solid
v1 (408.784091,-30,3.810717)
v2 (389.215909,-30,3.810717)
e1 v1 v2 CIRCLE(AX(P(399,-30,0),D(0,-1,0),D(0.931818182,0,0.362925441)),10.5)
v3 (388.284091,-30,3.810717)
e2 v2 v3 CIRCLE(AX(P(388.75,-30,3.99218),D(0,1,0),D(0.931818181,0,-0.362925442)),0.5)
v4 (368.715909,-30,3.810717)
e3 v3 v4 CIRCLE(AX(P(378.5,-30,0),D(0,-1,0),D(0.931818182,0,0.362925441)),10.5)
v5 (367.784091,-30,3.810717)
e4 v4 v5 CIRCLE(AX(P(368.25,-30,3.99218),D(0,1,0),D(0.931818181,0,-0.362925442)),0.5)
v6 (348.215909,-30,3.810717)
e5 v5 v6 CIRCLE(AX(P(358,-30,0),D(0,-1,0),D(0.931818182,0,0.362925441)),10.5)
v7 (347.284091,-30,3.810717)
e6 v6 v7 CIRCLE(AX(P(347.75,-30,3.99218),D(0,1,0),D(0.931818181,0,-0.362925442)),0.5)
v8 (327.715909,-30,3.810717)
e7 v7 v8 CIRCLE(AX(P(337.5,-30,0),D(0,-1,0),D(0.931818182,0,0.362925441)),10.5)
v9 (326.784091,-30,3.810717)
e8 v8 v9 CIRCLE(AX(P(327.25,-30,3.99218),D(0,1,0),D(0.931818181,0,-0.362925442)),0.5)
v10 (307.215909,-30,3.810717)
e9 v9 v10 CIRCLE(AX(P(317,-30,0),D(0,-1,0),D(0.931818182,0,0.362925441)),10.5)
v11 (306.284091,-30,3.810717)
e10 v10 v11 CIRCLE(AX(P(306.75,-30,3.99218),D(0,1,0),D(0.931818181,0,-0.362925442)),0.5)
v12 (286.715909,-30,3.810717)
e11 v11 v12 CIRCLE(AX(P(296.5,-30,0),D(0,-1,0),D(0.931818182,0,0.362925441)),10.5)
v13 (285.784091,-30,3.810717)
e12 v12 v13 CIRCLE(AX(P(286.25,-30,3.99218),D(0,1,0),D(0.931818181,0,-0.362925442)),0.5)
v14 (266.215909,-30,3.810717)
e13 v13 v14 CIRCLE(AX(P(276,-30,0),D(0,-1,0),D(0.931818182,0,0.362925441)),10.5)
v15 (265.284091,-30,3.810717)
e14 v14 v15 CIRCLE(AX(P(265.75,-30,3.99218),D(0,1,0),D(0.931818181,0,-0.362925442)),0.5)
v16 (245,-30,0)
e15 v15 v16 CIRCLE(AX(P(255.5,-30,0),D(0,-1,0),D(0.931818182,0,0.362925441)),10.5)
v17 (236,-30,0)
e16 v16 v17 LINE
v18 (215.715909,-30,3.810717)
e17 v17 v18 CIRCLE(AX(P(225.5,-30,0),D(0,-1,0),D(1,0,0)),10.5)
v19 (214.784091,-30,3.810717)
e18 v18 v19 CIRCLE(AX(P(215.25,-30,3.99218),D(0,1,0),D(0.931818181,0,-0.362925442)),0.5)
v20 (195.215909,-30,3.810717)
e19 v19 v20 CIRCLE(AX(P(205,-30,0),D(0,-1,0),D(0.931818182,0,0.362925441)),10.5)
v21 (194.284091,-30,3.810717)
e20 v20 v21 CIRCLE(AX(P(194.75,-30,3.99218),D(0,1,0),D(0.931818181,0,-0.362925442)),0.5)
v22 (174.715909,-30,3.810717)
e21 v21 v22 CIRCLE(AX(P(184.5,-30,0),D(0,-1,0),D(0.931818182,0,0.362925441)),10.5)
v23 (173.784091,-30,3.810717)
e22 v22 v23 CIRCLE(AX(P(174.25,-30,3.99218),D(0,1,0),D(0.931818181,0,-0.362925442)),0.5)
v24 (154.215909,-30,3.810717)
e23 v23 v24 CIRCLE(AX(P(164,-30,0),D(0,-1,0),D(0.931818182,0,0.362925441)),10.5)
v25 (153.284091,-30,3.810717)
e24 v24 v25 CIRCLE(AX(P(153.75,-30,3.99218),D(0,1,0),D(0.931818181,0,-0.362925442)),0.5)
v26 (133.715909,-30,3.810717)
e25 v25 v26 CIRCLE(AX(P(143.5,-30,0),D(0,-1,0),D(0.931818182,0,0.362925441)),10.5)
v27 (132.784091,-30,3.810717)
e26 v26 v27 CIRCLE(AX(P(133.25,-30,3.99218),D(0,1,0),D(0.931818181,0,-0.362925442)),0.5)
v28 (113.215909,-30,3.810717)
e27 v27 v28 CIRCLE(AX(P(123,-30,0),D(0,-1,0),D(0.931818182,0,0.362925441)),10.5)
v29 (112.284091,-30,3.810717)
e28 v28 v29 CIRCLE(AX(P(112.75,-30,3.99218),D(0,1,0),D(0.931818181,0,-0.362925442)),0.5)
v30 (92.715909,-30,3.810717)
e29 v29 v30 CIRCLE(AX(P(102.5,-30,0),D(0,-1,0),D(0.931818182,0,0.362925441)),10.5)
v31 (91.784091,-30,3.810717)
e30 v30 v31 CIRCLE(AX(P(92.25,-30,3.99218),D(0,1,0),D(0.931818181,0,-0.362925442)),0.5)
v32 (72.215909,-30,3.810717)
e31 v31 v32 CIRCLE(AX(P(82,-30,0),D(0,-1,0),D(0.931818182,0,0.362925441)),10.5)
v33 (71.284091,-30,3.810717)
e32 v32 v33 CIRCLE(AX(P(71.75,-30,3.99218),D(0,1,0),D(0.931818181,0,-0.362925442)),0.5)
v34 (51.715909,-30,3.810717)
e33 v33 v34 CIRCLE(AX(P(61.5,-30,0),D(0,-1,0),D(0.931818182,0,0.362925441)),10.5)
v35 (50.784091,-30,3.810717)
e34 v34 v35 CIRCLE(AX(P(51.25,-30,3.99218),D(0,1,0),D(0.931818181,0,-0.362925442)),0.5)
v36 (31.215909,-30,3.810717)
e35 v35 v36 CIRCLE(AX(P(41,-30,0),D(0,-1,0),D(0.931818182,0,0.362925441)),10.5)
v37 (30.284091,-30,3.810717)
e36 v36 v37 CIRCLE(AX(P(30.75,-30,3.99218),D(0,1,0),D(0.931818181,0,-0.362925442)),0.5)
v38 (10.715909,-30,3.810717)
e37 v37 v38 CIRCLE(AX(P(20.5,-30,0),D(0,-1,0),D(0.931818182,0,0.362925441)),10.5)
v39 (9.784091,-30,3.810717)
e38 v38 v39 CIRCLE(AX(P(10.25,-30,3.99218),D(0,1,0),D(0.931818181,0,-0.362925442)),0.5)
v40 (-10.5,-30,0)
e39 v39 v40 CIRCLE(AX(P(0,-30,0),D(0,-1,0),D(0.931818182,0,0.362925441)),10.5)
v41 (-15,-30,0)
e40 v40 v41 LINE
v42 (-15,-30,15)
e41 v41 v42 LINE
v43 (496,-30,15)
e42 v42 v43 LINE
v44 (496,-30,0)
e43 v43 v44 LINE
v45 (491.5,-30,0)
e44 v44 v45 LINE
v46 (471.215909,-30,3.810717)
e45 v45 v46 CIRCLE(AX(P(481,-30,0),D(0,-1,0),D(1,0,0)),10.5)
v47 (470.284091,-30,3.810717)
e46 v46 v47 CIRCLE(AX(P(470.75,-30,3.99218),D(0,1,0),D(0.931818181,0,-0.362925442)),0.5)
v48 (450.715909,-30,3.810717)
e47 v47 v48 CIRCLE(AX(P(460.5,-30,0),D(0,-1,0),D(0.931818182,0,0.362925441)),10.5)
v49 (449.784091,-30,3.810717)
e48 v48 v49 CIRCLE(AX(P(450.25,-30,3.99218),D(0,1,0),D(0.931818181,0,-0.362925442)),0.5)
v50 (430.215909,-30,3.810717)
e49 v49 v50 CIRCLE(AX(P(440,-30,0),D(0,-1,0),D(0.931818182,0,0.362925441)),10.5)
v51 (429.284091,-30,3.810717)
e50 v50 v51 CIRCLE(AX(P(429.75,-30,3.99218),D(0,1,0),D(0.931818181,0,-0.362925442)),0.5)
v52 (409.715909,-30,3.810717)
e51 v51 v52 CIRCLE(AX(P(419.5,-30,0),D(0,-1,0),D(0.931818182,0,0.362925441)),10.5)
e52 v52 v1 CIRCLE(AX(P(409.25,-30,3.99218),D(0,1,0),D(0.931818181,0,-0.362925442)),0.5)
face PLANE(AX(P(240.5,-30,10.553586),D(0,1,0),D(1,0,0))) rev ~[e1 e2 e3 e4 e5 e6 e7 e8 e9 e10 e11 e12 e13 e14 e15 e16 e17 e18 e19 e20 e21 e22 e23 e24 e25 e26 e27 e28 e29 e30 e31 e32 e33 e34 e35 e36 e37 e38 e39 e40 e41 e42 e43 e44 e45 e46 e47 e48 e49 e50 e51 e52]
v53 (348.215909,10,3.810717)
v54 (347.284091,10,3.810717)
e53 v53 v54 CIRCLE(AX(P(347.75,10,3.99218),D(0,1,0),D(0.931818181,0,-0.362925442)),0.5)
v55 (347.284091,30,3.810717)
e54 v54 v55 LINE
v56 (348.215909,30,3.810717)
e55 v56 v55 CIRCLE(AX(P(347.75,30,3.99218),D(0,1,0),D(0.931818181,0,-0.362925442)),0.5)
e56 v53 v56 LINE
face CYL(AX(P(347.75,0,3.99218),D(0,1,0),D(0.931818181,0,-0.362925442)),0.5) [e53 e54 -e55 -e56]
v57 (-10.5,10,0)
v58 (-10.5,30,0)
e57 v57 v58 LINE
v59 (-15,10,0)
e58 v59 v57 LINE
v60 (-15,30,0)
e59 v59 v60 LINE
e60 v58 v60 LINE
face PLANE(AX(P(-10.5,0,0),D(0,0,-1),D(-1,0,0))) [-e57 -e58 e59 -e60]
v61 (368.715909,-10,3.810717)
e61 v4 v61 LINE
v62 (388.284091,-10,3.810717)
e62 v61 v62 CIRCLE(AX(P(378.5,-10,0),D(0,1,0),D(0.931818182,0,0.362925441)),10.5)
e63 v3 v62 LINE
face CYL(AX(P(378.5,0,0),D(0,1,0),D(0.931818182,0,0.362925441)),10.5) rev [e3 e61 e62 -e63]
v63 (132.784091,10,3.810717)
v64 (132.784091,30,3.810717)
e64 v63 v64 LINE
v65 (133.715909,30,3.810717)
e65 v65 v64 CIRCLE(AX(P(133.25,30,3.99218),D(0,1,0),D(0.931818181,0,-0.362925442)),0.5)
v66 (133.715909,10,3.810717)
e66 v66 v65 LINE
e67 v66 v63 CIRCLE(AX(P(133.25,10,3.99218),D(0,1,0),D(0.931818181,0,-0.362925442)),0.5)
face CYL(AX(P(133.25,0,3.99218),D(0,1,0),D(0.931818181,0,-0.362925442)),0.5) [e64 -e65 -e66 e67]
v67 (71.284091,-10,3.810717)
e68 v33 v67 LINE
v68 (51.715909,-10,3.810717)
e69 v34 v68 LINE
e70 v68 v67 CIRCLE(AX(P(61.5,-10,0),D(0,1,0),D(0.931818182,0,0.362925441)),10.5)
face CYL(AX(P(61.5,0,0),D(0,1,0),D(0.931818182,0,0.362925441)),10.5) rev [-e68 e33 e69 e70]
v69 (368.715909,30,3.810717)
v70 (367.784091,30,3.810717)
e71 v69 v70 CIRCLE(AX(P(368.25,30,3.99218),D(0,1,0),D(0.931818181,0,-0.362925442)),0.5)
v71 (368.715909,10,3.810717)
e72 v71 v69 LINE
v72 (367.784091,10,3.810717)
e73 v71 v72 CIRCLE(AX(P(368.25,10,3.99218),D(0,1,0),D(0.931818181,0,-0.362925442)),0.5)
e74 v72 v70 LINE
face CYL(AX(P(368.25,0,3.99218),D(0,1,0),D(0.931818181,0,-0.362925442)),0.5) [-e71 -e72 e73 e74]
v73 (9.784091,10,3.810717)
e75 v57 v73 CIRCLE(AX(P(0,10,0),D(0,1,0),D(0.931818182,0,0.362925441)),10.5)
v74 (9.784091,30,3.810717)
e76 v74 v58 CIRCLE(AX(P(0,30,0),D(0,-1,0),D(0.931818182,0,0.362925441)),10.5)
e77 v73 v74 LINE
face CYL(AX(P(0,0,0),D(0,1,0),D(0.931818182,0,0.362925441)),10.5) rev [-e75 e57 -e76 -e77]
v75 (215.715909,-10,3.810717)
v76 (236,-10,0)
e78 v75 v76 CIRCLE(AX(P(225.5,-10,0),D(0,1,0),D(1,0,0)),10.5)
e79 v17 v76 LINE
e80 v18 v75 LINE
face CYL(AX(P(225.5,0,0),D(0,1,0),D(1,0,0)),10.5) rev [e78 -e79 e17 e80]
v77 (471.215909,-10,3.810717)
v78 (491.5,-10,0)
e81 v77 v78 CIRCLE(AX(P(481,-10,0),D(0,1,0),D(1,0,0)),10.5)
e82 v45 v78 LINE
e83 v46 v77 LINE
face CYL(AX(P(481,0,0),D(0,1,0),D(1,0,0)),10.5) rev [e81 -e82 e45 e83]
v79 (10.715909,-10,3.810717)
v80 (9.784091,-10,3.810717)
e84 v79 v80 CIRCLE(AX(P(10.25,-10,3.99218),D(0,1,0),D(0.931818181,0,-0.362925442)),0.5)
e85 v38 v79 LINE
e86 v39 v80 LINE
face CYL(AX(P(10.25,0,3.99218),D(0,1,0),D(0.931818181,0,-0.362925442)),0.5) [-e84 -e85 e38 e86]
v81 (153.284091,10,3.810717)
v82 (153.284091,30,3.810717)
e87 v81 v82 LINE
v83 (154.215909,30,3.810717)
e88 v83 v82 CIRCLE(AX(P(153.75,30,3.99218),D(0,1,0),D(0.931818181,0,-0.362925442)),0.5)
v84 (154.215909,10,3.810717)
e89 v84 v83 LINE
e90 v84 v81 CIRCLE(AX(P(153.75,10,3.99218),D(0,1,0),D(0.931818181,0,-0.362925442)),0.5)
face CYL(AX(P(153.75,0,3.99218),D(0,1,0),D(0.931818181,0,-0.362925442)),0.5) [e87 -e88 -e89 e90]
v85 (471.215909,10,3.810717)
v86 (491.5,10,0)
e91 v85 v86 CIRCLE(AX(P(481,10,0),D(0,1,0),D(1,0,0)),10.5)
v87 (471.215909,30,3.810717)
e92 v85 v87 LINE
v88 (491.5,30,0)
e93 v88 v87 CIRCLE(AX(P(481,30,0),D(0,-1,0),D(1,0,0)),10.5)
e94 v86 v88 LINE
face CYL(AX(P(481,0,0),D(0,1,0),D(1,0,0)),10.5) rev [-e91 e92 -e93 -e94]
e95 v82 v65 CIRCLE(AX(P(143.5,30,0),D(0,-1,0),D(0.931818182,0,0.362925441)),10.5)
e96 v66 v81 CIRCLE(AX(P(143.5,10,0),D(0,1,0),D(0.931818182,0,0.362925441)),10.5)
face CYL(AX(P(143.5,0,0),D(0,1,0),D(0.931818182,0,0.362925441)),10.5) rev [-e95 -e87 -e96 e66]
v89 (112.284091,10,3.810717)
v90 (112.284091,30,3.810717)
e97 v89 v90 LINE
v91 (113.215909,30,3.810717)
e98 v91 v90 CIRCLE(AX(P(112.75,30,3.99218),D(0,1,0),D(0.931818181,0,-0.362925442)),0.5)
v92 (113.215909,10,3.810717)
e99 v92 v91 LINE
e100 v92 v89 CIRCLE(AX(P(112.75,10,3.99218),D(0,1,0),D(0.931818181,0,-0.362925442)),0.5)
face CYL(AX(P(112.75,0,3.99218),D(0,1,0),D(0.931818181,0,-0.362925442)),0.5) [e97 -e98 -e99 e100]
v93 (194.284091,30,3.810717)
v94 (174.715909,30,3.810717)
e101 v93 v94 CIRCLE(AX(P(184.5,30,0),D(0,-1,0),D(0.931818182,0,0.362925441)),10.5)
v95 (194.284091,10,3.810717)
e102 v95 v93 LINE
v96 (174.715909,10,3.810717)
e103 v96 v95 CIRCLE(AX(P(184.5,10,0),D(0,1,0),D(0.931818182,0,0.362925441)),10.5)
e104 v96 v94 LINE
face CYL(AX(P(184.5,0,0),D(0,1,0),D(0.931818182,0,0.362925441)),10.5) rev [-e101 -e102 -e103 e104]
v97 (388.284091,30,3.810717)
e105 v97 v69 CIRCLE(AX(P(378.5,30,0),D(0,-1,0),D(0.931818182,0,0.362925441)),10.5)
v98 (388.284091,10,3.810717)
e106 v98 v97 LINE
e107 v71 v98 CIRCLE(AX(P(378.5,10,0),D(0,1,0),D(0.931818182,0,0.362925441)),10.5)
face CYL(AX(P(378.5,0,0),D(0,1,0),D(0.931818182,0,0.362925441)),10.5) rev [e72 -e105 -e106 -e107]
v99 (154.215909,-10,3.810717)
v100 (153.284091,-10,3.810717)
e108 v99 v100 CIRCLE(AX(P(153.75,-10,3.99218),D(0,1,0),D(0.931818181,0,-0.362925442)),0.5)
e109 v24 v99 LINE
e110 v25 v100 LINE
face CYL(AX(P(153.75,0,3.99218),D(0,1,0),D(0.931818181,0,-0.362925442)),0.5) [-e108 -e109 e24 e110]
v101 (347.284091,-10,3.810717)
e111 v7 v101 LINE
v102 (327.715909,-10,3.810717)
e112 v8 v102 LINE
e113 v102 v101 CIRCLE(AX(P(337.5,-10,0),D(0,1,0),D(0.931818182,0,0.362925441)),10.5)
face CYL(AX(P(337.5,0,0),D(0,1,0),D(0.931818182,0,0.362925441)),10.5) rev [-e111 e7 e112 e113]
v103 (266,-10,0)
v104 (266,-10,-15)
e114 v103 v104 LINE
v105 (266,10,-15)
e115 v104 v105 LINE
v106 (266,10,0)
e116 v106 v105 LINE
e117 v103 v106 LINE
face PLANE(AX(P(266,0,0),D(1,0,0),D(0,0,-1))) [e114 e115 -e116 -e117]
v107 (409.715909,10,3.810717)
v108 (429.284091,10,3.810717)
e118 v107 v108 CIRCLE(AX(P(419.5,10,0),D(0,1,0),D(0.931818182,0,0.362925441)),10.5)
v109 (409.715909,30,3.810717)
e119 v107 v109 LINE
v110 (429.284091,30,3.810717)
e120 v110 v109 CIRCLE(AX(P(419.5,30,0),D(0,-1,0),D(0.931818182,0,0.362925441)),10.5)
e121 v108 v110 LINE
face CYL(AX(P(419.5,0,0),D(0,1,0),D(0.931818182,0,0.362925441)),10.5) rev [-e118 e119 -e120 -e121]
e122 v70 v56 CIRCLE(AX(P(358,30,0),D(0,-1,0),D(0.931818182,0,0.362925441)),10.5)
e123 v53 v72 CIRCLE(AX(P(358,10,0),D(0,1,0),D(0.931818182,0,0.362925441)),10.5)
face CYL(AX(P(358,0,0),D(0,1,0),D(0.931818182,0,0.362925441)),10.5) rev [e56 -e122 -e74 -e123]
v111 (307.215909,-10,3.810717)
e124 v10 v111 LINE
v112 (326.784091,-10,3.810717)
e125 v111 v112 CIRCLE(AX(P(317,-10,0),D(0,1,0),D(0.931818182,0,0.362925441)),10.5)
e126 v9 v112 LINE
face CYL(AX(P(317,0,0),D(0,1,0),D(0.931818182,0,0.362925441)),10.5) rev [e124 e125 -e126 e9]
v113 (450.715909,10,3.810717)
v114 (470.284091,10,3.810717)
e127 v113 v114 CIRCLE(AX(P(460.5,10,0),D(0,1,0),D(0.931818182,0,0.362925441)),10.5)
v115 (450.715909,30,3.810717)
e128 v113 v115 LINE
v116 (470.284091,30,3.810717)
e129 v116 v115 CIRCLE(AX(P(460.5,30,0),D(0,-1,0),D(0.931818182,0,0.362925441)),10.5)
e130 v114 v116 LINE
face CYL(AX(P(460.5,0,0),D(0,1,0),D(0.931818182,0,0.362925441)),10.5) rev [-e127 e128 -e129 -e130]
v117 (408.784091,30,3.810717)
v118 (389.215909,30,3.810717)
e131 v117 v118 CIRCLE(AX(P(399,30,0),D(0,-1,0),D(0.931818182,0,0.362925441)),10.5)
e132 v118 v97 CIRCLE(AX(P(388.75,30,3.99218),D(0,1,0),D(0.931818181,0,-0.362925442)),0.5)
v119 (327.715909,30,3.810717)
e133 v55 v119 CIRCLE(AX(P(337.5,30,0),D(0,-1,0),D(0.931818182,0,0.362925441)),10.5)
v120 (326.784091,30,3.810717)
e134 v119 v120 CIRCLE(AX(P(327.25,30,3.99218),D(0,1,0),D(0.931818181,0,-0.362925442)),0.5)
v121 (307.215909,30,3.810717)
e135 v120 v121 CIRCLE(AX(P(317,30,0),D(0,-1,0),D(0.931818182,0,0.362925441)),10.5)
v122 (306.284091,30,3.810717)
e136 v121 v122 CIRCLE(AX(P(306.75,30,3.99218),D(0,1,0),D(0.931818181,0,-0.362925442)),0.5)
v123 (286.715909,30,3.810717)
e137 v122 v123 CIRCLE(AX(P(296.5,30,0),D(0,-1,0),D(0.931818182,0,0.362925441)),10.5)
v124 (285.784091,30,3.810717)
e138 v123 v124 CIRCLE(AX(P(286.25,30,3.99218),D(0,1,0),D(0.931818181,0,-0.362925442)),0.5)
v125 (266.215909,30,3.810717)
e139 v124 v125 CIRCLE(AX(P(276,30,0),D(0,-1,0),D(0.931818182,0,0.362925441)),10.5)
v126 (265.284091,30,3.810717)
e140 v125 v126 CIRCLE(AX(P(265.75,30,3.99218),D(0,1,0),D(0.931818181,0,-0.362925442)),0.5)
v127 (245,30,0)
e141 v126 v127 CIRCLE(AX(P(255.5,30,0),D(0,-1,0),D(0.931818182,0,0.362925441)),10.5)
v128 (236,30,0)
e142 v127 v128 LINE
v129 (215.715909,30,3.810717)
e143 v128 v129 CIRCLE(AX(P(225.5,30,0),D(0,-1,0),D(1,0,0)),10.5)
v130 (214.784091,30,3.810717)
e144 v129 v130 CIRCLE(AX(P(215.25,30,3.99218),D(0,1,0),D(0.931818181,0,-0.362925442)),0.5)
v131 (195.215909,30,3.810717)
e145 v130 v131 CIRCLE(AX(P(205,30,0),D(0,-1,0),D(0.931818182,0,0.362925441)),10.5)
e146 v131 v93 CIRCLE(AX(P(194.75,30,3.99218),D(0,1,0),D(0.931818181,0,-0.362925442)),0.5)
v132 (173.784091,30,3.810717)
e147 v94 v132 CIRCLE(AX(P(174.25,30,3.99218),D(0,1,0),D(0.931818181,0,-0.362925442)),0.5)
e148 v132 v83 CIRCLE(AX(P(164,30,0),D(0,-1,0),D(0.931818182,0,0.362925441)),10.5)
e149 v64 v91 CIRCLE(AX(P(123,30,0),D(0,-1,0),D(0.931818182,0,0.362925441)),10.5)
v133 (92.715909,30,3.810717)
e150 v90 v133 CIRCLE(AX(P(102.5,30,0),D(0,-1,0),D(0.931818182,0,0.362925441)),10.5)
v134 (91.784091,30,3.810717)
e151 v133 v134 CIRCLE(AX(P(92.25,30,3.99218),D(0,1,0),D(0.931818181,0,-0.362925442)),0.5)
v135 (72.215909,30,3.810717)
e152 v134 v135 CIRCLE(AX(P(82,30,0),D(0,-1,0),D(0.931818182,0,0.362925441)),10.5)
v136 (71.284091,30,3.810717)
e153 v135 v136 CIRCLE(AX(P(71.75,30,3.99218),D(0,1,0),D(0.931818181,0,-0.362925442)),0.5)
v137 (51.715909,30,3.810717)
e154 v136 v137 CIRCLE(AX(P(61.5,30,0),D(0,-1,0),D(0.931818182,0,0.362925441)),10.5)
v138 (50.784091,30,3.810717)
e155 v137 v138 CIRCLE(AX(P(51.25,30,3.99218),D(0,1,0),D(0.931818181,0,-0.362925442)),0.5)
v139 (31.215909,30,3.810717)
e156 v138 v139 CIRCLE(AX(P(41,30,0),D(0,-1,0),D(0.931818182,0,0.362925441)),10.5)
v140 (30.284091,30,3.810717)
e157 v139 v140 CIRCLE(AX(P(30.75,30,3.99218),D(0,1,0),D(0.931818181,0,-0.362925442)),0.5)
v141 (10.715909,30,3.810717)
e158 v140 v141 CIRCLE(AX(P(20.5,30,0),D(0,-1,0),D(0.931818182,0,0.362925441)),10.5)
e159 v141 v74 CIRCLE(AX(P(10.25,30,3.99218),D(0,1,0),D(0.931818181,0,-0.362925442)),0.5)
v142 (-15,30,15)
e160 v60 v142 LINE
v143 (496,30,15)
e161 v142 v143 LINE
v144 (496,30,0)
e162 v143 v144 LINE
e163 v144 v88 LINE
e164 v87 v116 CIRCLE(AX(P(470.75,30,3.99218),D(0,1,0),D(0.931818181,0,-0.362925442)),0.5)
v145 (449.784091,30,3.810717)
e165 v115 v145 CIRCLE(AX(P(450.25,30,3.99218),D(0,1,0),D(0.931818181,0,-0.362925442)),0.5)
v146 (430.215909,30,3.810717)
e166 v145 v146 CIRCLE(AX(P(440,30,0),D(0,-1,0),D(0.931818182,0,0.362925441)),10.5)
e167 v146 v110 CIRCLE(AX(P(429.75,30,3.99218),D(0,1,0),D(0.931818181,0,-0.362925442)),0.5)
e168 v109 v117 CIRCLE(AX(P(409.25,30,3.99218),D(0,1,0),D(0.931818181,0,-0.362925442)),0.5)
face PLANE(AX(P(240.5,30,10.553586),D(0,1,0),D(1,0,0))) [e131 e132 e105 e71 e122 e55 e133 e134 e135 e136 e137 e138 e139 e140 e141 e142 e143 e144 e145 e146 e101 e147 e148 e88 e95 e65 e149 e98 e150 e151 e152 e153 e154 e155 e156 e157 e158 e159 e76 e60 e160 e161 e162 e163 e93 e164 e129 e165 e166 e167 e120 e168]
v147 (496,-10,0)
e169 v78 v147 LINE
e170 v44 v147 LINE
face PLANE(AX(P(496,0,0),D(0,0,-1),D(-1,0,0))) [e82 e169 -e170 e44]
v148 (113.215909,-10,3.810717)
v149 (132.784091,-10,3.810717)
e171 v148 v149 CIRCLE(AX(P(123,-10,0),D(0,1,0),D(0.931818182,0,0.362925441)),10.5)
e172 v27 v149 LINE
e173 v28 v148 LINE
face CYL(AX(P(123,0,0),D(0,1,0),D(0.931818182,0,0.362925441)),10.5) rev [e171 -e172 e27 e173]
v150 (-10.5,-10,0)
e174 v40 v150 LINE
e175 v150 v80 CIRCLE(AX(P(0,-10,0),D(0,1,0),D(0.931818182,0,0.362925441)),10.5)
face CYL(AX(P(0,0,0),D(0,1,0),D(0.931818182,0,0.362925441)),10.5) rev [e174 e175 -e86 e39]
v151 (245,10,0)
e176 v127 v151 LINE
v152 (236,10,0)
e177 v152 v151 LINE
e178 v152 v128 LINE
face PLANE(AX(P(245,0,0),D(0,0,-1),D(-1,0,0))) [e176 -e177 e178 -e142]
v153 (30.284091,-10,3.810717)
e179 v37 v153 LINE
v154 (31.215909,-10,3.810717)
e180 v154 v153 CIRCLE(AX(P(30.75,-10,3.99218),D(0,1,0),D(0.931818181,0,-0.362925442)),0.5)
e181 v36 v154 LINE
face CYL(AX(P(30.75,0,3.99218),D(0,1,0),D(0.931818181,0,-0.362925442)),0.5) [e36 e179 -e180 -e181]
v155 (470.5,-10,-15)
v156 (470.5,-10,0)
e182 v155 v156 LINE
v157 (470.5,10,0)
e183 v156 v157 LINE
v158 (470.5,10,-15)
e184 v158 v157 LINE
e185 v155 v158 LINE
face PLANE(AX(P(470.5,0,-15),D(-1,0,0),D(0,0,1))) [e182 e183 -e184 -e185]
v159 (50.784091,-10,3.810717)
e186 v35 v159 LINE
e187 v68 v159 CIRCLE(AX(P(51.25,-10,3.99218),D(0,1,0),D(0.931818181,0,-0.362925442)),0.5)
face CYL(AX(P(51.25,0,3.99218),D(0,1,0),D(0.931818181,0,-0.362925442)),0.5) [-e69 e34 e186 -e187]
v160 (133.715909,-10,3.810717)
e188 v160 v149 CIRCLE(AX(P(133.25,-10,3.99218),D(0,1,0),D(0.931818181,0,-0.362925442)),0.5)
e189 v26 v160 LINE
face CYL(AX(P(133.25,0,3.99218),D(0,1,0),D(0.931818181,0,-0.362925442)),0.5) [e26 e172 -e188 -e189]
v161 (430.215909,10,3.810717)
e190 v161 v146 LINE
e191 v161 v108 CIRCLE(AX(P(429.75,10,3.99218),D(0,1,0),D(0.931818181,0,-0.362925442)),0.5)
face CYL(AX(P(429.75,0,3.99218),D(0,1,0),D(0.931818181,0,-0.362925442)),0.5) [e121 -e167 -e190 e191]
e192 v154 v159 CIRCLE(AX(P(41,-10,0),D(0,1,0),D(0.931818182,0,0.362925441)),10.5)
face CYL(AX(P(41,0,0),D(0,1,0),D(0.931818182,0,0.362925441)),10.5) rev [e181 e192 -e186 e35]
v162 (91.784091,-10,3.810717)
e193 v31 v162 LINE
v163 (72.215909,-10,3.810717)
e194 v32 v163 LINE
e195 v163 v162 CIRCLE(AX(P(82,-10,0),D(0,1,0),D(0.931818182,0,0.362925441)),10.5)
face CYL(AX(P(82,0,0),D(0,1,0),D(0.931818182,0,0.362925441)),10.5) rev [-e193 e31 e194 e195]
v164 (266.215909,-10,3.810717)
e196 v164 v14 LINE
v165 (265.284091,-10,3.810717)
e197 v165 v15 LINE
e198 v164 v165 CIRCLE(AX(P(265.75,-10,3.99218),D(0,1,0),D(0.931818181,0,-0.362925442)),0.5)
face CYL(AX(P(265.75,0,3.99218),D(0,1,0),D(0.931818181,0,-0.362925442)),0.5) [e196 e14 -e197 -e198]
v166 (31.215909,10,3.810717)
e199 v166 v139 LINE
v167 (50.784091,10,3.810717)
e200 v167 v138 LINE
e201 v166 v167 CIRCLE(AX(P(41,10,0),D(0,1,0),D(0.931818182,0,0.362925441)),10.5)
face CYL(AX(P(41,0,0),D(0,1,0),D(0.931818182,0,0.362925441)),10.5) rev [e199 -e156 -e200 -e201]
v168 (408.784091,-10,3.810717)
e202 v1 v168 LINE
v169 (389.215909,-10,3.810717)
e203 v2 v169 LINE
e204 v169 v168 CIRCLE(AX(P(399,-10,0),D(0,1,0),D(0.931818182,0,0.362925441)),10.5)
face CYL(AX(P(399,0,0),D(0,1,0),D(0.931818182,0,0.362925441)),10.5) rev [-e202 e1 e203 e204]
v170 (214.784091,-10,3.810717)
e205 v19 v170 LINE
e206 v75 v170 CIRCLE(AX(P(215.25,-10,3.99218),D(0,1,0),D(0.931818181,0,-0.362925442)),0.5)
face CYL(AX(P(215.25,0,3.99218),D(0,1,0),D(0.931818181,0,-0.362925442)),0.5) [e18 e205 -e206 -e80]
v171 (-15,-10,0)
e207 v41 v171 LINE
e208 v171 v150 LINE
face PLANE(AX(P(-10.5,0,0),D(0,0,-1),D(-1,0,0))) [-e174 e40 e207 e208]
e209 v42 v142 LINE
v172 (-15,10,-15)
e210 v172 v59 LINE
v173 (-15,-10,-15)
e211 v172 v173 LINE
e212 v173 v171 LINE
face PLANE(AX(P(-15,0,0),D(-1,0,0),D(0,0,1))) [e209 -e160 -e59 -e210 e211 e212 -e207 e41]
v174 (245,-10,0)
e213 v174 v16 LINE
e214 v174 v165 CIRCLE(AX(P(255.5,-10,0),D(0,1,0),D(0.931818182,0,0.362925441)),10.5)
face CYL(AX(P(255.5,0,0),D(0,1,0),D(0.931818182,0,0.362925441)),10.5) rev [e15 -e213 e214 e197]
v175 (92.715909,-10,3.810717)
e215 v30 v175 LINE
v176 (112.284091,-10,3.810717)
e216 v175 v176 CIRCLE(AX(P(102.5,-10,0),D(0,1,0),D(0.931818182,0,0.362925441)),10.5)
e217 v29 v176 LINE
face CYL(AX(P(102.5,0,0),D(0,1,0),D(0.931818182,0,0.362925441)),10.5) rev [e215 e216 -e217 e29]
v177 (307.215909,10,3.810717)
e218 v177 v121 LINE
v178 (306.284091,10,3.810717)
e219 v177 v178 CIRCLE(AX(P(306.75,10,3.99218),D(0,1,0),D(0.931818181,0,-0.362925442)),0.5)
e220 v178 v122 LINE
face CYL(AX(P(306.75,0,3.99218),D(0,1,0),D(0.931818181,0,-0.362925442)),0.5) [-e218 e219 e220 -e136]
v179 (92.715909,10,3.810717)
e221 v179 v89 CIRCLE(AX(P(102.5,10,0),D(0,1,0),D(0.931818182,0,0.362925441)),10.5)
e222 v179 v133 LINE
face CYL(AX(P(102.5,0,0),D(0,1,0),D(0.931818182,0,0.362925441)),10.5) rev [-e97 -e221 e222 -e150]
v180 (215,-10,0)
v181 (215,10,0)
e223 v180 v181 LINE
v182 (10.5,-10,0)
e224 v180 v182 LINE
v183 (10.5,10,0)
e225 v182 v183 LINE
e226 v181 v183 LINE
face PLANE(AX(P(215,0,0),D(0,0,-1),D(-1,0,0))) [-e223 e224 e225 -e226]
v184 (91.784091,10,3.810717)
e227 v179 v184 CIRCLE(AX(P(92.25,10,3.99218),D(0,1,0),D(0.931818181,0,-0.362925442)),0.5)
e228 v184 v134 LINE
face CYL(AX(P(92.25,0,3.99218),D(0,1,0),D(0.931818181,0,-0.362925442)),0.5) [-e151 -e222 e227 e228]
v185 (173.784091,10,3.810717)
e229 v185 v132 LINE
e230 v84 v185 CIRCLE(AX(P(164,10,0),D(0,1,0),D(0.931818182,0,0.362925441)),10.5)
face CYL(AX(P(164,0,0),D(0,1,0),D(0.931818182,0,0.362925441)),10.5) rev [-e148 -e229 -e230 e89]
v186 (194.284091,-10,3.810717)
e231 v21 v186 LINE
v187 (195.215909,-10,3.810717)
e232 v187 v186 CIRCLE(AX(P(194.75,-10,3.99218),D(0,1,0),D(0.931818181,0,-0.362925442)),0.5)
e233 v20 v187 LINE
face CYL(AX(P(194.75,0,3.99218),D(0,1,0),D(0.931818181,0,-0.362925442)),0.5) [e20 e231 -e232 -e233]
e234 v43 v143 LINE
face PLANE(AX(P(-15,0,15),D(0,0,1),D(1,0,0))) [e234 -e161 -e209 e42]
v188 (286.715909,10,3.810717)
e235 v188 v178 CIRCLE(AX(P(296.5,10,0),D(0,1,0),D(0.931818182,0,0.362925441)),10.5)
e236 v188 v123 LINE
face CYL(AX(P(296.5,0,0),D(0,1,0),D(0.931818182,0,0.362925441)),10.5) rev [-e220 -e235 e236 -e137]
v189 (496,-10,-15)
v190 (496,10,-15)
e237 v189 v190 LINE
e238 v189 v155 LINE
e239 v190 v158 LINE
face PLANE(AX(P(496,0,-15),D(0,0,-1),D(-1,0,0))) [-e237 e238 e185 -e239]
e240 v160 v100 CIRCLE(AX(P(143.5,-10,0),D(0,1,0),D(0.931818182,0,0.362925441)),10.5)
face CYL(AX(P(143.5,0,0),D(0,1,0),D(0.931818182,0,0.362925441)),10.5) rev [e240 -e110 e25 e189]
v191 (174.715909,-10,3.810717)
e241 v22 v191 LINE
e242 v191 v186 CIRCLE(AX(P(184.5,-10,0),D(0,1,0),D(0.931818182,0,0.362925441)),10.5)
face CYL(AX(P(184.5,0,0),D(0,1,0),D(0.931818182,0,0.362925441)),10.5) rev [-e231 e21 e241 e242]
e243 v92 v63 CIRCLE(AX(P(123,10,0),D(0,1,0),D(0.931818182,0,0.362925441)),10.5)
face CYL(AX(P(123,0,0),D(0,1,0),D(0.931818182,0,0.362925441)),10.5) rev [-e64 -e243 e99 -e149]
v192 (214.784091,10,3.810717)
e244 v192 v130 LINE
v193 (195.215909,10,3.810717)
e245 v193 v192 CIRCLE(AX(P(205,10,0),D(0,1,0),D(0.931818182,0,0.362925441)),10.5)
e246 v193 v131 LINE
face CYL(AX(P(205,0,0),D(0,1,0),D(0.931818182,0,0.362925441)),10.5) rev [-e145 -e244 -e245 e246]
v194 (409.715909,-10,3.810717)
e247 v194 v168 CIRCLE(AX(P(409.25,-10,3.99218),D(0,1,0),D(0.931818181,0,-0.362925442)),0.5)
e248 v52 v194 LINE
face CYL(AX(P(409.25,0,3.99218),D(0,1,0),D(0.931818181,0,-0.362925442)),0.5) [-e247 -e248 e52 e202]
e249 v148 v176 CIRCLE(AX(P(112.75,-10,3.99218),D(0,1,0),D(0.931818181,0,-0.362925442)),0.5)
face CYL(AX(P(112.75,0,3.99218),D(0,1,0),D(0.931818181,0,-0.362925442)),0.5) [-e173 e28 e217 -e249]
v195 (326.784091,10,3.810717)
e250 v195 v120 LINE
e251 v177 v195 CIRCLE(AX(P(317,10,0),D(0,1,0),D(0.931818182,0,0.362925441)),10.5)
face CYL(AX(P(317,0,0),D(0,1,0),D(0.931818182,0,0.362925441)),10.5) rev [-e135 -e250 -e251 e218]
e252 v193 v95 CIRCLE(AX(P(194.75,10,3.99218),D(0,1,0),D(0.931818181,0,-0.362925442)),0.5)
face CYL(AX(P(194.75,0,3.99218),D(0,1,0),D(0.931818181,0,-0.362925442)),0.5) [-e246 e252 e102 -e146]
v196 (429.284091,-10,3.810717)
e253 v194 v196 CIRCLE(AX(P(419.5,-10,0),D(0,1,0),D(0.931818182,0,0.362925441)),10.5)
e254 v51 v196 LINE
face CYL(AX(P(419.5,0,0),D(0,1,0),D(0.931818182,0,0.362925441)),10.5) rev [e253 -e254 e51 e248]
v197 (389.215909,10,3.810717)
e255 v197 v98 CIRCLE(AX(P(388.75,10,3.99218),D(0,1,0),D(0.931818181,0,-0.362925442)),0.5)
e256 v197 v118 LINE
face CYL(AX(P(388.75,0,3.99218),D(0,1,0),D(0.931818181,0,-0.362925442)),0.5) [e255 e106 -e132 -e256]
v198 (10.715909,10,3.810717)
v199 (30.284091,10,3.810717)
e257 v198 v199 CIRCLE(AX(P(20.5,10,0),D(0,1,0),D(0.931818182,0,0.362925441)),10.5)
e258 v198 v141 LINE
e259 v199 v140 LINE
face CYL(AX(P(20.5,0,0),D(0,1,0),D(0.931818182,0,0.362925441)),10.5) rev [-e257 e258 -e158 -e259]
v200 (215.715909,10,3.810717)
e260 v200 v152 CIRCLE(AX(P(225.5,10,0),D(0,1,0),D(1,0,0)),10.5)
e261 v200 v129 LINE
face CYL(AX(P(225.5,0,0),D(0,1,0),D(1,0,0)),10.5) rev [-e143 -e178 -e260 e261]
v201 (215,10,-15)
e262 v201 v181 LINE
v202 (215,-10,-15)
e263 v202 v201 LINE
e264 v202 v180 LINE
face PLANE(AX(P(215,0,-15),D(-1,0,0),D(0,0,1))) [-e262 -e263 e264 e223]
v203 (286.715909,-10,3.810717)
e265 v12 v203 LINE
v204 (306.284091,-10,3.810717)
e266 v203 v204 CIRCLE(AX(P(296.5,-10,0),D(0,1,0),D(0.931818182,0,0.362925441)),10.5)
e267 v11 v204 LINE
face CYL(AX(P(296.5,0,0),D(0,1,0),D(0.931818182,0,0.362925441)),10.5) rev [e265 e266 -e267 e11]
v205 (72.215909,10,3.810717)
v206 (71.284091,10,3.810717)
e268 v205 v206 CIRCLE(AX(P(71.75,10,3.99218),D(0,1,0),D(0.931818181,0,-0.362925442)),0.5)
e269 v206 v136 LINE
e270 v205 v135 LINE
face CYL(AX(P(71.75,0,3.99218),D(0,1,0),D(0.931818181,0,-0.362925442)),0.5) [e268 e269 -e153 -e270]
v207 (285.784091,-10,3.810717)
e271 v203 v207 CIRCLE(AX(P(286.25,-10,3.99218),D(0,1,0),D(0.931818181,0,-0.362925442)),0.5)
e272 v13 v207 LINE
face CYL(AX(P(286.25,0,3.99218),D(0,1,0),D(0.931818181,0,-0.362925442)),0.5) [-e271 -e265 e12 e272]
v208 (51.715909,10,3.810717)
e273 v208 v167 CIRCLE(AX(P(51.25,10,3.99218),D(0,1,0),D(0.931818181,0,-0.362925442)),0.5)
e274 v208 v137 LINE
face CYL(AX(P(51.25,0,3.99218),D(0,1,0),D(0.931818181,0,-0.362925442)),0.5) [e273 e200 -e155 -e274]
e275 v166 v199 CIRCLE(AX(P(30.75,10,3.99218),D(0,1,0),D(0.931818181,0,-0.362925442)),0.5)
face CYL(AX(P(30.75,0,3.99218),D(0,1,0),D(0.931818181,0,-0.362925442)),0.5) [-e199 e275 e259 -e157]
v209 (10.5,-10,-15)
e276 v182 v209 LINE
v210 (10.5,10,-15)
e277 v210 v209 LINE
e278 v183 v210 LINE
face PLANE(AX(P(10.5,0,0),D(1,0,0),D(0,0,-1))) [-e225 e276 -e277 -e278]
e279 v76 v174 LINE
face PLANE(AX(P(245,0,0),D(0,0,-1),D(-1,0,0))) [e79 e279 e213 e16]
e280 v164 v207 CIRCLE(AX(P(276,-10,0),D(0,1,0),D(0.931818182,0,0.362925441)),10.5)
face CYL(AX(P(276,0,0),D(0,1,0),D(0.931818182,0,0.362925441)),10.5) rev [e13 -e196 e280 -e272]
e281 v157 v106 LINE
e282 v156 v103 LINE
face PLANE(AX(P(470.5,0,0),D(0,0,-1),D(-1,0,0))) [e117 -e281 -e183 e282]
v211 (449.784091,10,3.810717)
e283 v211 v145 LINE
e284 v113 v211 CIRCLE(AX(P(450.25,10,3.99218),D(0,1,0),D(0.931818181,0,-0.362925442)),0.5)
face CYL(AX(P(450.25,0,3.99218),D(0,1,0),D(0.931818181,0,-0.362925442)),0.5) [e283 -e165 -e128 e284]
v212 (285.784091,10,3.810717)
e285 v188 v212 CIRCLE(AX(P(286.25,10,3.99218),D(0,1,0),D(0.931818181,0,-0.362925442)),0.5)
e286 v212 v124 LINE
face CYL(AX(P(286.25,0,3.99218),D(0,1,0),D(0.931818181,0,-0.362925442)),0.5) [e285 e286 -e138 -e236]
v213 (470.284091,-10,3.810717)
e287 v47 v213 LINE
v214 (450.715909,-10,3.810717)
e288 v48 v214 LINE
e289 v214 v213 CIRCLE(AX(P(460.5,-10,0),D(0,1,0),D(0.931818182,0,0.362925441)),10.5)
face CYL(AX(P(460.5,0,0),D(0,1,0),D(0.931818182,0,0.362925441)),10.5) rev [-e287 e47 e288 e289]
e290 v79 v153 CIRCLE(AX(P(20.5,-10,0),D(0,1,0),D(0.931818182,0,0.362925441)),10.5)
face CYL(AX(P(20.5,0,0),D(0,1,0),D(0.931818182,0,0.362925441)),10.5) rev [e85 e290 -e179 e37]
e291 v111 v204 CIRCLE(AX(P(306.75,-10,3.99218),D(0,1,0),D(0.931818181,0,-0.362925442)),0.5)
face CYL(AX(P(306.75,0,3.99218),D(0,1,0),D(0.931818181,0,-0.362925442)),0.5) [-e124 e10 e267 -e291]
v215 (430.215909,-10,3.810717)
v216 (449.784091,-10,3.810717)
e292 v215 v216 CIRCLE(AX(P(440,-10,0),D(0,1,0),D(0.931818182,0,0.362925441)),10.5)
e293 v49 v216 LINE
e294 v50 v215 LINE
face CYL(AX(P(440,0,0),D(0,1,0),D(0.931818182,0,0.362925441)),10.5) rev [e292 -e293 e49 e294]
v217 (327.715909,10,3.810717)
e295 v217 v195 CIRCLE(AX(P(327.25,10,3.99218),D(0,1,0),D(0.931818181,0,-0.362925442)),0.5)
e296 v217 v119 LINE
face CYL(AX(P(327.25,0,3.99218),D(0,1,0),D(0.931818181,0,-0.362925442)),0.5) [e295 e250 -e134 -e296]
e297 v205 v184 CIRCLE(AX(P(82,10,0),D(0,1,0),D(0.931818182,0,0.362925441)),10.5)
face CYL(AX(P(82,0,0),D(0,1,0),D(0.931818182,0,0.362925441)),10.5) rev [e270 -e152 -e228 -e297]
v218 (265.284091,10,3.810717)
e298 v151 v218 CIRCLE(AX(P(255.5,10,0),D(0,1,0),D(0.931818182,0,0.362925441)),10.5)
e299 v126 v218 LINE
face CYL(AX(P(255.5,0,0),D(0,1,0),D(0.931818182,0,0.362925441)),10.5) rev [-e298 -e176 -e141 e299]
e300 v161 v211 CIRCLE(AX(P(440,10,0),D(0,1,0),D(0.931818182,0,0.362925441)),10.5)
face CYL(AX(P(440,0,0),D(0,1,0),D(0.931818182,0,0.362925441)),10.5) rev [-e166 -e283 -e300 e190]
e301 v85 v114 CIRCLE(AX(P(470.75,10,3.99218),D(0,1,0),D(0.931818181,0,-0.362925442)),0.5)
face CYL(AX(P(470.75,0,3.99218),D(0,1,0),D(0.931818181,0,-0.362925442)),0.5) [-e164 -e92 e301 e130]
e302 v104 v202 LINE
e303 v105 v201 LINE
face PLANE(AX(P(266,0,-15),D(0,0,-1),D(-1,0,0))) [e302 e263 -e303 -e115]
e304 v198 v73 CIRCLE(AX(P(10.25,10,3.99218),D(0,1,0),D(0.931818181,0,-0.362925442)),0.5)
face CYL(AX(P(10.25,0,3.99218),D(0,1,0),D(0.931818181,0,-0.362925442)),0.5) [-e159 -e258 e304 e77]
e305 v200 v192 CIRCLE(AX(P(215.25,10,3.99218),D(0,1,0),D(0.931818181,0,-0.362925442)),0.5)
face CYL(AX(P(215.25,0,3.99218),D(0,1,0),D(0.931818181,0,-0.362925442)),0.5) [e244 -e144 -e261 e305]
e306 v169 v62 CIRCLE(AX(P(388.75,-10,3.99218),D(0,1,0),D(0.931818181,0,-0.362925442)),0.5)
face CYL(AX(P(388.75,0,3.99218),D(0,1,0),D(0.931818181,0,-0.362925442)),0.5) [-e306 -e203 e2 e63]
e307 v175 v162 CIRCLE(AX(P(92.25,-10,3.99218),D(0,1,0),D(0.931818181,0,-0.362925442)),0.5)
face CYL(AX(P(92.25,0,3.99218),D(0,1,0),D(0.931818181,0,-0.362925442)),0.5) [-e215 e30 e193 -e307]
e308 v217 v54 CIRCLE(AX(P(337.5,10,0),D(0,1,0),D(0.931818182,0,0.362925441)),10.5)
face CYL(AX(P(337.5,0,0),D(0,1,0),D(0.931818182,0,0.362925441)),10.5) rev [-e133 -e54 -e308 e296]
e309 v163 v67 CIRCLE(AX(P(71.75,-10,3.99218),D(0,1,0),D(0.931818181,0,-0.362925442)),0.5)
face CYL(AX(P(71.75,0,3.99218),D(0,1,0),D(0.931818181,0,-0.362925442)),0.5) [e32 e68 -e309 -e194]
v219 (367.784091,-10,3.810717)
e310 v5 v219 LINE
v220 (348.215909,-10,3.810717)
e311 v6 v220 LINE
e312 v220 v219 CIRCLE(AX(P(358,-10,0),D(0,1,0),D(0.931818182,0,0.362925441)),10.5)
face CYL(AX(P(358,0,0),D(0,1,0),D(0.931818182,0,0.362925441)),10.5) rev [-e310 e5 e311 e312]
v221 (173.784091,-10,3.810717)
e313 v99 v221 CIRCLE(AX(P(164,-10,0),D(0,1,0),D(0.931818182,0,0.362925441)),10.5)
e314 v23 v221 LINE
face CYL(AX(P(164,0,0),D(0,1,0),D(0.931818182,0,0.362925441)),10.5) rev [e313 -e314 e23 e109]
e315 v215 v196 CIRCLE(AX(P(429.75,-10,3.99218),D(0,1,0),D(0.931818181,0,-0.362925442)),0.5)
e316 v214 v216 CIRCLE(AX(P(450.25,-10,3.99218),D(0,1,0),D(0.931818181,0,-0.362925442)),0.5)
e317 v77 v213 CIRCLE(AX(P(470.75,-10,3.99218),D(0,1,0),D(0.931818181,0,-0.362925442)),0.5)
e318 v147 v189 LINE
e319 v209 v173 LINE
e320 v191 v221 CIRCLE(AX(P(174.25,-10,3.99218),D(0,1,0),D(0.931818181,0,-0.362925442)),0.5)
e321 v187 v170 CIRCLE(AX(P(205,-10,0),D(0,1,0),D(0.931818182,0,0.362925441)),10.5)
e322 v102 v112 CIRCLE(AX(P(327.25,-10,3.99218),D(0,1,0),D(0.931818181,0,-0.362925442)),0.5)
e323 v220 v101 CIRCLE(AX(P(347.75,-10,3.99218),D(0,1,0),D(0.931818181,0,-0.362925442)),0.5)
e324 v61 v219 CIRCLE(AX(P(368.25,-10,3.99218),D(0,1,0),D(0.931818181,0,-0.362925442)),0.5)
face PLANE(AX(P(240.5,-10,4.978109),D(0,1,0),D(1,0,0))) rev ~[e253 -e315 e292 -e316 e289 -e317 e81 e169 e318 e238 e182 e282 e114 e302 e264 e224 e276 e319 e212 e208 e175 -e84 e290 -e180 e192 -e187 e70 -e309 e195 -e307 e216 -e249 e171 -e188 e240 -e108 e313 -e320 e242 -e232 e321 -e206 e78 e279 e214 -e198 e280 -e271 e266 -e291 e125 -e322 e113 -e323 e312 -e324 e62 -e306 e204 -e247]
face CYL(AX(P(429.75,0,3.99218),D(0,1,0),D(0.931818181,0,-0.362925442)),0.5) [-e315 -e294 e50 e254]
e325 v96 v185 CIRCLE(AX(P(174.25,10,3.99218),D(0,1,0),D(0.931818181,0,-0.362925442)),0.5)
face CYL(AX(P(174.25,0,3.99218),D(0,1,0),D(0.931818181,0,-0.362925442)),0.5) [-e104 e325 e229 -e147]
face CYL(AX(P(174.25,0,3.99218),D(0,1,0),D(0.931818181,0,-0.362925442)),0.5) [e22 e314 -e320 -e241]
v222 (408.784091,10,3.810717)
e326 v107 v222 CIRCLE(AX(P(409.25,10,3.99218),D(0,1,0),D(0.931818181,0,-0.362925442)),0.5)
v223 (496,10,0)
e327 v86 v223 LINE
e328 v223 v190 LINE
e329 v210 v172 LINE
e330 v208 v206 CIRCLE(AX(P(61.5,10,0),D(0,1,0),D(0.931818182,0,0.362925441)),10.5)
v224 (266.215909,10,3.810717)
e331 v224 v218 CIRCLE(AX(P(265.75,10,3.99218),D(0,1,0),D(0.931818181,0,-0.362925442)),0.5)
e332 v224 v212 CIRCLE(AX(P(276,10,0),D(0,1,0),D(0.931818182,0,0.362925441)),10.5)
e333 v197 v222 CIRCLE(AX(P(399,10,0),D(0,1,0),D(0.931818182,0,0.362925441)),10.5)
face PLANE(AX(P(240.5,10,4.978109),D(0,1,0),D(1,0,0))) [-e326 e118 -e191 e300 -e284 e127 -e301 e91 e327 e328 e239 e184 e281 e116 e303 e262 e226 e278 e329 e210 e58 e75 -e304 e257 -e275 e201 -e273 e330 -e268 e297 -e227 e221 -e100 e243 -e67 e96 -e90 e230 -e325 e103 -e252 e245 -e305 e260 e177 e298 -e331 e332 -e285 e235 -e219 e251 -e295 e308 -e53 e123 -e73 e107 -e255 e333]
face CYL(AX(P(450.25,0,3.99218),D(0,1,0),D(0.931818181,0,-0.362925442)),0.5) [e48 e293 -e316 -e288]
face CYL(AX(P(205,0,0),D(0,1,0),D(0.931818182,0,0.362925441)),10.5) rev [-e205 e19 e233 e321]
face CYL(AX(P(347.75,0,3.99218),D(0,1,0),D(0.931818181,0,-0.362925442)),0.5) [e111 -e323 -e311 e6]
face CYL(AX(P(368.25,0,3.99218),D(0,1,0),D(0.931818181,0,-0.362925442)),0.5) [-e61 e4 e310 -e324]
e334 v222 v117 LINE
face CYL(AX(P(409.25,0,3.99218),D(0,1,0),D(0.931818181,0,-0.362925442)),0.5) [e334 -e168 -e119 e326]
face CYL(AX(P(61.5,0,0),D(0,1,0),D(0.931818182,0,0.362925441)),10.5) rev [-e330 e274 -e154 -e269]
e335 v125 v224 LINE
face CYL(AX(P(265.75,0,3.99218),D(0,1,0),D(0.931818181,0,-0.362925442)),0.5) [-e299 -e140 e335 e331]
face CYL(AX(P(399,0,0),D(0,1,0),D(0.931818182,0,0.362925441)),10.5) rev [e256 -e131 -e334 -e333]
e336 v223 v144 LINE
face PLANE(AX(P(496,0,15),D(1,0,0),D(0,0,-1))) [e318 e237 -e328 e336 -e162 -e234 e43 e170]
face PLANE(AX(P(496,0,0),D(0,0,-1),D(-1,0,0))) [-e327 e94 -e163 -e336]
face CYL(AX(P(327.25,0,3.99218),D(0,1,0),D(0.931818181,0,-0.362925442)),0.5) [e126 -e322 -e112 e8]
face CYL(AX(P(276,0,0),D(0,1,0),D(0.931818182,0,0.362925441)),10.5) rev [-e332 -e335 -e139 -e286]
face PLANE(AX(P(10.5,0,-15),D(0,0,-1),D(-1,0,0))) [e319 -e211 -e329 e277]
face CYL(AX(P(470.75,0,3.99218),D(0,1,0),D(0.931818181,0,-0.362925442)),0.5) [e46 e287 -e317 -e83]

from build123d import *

# Parameters (mm, degrees)
BOSS_EXTRUDE5_DEPTH = 30
BOSS_EXTRUDE6_DEPTH = 10


with BuildPart() as part:
    # Sketch1 → Boss-Extrude5 (new, symmetric)
    with BuildSketch(Plane(origin=(0, 0, 0), x_dir=(1, 0, 0), z_dir=(0, 1, 0))):
        with BuildLine():
            Line((245, 0), (236, 0))
            ThreePointArc((236, 0), (227.438690983, -10.319470785), (215.715909091, -3.810717135))
            ThreePointArc((215.715909091, -3.810717135), (215.25, -3.492179856), (214.784090909, -3.810717135))
            ThreePointArc((214.784090909, -3.810717135), (205, -10.5), (195.215909091, -3.810717135))
            ThreePointArc((195.215909091, -3.810717135), (194.75, -3.492179856), (194.284090909, -3.810717135))
            ThreePointArc((194.284090909, -3.810717135), (184.5, -10.5), (174.715909091, -3.810717135))
            ThreePointArc((174.715909091, -3.810717135), (174.25, -3.492179856), (173.784090909, -3.810717135))
            ThreePointArc((173.784090909, -3.810717135), (164, -10.5), (154.215909091, -3.810717135))
            ThreePointArc((154.215909091, -3.810717135), (153.75, -3.492179856), (153.284090909, -3.810717135))
            ThreePointArc((153.284090909, -3.810717135), (143.5, -10.5), (133.715909091, -3.810717135))
            ThreePointArc((133.715909091, -3.810717135), (133.25, -3.492179856), (132.784090909, -3.810717135))
            ThreePointArc((132.784090909, -3.810717135), (123, -10.5), (113.215909091, -3.810717135))
            ThreePointArc((113.215909091, -3.810717135), (112.75, -3.492179856), (112.284090909, -3.810717135))
            ThreePointArc((112.284090909, -3.810717135), (102.5, -10.5), (92.715909091, -3.810717135))
            ThreePointArc((92.715909091, -3.810717135), (92.25, -3.492179856), (91.784090909, -3.810717135))
            ThreePointArc((91.784090909, -3.810717135), (82, -10.5), (72.215909091, -3.810717135))
            ThreePointArc((72.215909091, -3.810717135), (71.75, -3.492179856), (71.284090909, -3.810717135))
            ThreePointArc((71.284090909, -3.810717135), (61.5, -10.5), (51.715909091, -3.810717135))
            ThreePointArc((51.715909091, -3.810717135), (51.25, -3.492179856), (50.784090909, -3.810717135))
            ThreePointArc((50.784090909, -3.810717135), (41, -10.5), (31.215909091, -3.810717135))
            ThreePointArc((31.215909091, -3.810717135), (30.75, -3.492179856), (30.284090909, -3.810717135))
            ThreePointArc((30.284090909, -3.810717135), (20.5, -10.5), (10.715909091, -3.810717135))
            ThreePointArc((10.715909091, -3.810717135), (10.25, -3.492179856), (9.784090909, -3.810717135))
            ThreePointArc((9.784090909, -3.810717135), (-1.938690983, -10.319470785), (-10.5, 0))
            Line((-10.5, 0), (-15, 0))
            Line((-15, 0), (-15, -15))
            Line((-15, -15), (496, -15))
            Line((496, -15), (496, 0))
            Line((496, 0), (491.5, 0))
            ThreePointArc((491.5, 0), (482.938690983, -10.319470785), (471.215909091, -3.810717135))
            ThreePointArc((471.215909091, -3.810717135), (470.75, -3.492179856), (470.284090909, -3.810717135))
            ThreePointArc((470.284090909, -3.810717135), (460.5, -10.5), (450.715909091, -3.810717135))
            ThreePointArc((450.715909091, -3.810717135), (450.25, -3.492179856), (449.784090909, -3.810717135))
            ThreePointArc((449.784090909, -3.810717135), (440, -10.5), (430.215909091, -3.810717135))
            ThreePointArc((430.215909091, -3.810717135), (429.75, -3.492179856), (429.284090909, -3.810717135))
            ThreePointArc((429.284090909, -3.810717135), (419.5, -10.5), (409.715909091, -3.810717135))
            ThreePointArc((409.715909091, -3.810717135), (409.25, -3.492179856), (408.784090909, -3.810717135))
            ThreePointArc((408.784090909, -3.810717135), (399, -10.5), (389.215909091, -3.810717135))
            ThreePointArc((389.215909091, -3.810717135), (388.75, -3.492179856), (388.284090909, -3.810717135))
            ThreePointArc((388.284090909, -3.810717135), (378.5, -10.5), (368.715909091, -3.810717135))
            ThreePointArc((368.715909091, -3.810717135), (368.25, -3.492179856), (367.784090909, -3.810717135))
            ThreePointArc((367.784090909, -3.810717135), (358, -10.5), (348.215909091, -3.810717135))
            ThreePointArc((348.215909091, -3.810717135), (347.75, -3.492179856), (347.284090909, -3.810717135))
            ThreePointArc((347.284090909, -3.810717135), (337.5, -10.5), (327.715909091, -3.810717135))
            ThreePointArc((327.715909091, -3.810717135), (327.25, -3.492179856), (326.784090909, -3.810717135))
            ThreePointArc((326.784090909, -3.810717135), (317, -10.5), (307.215909091, -3.810717135))
            ThreePointArc((307.215909091, -3.810717135), (306.75, -3.492179856), (306.284090909, -3.810717135))
            ThreePointArc((306.284090909, -3.810717135), (296.5, -10.5), (286.715909091, -3.810717135))
            ThreePointArc((286.715909091, -3.810717135), (286.25, -3.492179856), (285.784090909, -3.810717135))
            ThreePointArc((285.784090909, -3.810717135), (276, -10.5), (266.215909091, -3.810717135))
            ThreePointArc((266.215909091, -3.810717135), (265.75, -3.492179856), (265.284090909, -3.810717135))
            ThreePointArc((265.284090909, -3.810717135), (253.561309017, -10.319470785), (245, 0))
        make_face()
    extrude(amount=BOSS_EXTRUDE5_DEPTH, both=True)

    # Sketch6 → Boss-Extrude6 (add, symmetric)
    with BuildSketch(Plane(origin=(0, 0, 0), x_dir=(1, 0, 0), z_dir=(0, 1, 0))):
        Polygon((-15, -15), (496, -15), (496, 15), (470.5, 15), (470.5, 0), (266, 0), (266, 15), (215, 15), (215, 0), (10.5, 0), (10.5, 15), (-15, 15), align=None)
    extrude(amount=BOSS_EXTRUDE6_DEPTH, both=True)


solid = part.part
